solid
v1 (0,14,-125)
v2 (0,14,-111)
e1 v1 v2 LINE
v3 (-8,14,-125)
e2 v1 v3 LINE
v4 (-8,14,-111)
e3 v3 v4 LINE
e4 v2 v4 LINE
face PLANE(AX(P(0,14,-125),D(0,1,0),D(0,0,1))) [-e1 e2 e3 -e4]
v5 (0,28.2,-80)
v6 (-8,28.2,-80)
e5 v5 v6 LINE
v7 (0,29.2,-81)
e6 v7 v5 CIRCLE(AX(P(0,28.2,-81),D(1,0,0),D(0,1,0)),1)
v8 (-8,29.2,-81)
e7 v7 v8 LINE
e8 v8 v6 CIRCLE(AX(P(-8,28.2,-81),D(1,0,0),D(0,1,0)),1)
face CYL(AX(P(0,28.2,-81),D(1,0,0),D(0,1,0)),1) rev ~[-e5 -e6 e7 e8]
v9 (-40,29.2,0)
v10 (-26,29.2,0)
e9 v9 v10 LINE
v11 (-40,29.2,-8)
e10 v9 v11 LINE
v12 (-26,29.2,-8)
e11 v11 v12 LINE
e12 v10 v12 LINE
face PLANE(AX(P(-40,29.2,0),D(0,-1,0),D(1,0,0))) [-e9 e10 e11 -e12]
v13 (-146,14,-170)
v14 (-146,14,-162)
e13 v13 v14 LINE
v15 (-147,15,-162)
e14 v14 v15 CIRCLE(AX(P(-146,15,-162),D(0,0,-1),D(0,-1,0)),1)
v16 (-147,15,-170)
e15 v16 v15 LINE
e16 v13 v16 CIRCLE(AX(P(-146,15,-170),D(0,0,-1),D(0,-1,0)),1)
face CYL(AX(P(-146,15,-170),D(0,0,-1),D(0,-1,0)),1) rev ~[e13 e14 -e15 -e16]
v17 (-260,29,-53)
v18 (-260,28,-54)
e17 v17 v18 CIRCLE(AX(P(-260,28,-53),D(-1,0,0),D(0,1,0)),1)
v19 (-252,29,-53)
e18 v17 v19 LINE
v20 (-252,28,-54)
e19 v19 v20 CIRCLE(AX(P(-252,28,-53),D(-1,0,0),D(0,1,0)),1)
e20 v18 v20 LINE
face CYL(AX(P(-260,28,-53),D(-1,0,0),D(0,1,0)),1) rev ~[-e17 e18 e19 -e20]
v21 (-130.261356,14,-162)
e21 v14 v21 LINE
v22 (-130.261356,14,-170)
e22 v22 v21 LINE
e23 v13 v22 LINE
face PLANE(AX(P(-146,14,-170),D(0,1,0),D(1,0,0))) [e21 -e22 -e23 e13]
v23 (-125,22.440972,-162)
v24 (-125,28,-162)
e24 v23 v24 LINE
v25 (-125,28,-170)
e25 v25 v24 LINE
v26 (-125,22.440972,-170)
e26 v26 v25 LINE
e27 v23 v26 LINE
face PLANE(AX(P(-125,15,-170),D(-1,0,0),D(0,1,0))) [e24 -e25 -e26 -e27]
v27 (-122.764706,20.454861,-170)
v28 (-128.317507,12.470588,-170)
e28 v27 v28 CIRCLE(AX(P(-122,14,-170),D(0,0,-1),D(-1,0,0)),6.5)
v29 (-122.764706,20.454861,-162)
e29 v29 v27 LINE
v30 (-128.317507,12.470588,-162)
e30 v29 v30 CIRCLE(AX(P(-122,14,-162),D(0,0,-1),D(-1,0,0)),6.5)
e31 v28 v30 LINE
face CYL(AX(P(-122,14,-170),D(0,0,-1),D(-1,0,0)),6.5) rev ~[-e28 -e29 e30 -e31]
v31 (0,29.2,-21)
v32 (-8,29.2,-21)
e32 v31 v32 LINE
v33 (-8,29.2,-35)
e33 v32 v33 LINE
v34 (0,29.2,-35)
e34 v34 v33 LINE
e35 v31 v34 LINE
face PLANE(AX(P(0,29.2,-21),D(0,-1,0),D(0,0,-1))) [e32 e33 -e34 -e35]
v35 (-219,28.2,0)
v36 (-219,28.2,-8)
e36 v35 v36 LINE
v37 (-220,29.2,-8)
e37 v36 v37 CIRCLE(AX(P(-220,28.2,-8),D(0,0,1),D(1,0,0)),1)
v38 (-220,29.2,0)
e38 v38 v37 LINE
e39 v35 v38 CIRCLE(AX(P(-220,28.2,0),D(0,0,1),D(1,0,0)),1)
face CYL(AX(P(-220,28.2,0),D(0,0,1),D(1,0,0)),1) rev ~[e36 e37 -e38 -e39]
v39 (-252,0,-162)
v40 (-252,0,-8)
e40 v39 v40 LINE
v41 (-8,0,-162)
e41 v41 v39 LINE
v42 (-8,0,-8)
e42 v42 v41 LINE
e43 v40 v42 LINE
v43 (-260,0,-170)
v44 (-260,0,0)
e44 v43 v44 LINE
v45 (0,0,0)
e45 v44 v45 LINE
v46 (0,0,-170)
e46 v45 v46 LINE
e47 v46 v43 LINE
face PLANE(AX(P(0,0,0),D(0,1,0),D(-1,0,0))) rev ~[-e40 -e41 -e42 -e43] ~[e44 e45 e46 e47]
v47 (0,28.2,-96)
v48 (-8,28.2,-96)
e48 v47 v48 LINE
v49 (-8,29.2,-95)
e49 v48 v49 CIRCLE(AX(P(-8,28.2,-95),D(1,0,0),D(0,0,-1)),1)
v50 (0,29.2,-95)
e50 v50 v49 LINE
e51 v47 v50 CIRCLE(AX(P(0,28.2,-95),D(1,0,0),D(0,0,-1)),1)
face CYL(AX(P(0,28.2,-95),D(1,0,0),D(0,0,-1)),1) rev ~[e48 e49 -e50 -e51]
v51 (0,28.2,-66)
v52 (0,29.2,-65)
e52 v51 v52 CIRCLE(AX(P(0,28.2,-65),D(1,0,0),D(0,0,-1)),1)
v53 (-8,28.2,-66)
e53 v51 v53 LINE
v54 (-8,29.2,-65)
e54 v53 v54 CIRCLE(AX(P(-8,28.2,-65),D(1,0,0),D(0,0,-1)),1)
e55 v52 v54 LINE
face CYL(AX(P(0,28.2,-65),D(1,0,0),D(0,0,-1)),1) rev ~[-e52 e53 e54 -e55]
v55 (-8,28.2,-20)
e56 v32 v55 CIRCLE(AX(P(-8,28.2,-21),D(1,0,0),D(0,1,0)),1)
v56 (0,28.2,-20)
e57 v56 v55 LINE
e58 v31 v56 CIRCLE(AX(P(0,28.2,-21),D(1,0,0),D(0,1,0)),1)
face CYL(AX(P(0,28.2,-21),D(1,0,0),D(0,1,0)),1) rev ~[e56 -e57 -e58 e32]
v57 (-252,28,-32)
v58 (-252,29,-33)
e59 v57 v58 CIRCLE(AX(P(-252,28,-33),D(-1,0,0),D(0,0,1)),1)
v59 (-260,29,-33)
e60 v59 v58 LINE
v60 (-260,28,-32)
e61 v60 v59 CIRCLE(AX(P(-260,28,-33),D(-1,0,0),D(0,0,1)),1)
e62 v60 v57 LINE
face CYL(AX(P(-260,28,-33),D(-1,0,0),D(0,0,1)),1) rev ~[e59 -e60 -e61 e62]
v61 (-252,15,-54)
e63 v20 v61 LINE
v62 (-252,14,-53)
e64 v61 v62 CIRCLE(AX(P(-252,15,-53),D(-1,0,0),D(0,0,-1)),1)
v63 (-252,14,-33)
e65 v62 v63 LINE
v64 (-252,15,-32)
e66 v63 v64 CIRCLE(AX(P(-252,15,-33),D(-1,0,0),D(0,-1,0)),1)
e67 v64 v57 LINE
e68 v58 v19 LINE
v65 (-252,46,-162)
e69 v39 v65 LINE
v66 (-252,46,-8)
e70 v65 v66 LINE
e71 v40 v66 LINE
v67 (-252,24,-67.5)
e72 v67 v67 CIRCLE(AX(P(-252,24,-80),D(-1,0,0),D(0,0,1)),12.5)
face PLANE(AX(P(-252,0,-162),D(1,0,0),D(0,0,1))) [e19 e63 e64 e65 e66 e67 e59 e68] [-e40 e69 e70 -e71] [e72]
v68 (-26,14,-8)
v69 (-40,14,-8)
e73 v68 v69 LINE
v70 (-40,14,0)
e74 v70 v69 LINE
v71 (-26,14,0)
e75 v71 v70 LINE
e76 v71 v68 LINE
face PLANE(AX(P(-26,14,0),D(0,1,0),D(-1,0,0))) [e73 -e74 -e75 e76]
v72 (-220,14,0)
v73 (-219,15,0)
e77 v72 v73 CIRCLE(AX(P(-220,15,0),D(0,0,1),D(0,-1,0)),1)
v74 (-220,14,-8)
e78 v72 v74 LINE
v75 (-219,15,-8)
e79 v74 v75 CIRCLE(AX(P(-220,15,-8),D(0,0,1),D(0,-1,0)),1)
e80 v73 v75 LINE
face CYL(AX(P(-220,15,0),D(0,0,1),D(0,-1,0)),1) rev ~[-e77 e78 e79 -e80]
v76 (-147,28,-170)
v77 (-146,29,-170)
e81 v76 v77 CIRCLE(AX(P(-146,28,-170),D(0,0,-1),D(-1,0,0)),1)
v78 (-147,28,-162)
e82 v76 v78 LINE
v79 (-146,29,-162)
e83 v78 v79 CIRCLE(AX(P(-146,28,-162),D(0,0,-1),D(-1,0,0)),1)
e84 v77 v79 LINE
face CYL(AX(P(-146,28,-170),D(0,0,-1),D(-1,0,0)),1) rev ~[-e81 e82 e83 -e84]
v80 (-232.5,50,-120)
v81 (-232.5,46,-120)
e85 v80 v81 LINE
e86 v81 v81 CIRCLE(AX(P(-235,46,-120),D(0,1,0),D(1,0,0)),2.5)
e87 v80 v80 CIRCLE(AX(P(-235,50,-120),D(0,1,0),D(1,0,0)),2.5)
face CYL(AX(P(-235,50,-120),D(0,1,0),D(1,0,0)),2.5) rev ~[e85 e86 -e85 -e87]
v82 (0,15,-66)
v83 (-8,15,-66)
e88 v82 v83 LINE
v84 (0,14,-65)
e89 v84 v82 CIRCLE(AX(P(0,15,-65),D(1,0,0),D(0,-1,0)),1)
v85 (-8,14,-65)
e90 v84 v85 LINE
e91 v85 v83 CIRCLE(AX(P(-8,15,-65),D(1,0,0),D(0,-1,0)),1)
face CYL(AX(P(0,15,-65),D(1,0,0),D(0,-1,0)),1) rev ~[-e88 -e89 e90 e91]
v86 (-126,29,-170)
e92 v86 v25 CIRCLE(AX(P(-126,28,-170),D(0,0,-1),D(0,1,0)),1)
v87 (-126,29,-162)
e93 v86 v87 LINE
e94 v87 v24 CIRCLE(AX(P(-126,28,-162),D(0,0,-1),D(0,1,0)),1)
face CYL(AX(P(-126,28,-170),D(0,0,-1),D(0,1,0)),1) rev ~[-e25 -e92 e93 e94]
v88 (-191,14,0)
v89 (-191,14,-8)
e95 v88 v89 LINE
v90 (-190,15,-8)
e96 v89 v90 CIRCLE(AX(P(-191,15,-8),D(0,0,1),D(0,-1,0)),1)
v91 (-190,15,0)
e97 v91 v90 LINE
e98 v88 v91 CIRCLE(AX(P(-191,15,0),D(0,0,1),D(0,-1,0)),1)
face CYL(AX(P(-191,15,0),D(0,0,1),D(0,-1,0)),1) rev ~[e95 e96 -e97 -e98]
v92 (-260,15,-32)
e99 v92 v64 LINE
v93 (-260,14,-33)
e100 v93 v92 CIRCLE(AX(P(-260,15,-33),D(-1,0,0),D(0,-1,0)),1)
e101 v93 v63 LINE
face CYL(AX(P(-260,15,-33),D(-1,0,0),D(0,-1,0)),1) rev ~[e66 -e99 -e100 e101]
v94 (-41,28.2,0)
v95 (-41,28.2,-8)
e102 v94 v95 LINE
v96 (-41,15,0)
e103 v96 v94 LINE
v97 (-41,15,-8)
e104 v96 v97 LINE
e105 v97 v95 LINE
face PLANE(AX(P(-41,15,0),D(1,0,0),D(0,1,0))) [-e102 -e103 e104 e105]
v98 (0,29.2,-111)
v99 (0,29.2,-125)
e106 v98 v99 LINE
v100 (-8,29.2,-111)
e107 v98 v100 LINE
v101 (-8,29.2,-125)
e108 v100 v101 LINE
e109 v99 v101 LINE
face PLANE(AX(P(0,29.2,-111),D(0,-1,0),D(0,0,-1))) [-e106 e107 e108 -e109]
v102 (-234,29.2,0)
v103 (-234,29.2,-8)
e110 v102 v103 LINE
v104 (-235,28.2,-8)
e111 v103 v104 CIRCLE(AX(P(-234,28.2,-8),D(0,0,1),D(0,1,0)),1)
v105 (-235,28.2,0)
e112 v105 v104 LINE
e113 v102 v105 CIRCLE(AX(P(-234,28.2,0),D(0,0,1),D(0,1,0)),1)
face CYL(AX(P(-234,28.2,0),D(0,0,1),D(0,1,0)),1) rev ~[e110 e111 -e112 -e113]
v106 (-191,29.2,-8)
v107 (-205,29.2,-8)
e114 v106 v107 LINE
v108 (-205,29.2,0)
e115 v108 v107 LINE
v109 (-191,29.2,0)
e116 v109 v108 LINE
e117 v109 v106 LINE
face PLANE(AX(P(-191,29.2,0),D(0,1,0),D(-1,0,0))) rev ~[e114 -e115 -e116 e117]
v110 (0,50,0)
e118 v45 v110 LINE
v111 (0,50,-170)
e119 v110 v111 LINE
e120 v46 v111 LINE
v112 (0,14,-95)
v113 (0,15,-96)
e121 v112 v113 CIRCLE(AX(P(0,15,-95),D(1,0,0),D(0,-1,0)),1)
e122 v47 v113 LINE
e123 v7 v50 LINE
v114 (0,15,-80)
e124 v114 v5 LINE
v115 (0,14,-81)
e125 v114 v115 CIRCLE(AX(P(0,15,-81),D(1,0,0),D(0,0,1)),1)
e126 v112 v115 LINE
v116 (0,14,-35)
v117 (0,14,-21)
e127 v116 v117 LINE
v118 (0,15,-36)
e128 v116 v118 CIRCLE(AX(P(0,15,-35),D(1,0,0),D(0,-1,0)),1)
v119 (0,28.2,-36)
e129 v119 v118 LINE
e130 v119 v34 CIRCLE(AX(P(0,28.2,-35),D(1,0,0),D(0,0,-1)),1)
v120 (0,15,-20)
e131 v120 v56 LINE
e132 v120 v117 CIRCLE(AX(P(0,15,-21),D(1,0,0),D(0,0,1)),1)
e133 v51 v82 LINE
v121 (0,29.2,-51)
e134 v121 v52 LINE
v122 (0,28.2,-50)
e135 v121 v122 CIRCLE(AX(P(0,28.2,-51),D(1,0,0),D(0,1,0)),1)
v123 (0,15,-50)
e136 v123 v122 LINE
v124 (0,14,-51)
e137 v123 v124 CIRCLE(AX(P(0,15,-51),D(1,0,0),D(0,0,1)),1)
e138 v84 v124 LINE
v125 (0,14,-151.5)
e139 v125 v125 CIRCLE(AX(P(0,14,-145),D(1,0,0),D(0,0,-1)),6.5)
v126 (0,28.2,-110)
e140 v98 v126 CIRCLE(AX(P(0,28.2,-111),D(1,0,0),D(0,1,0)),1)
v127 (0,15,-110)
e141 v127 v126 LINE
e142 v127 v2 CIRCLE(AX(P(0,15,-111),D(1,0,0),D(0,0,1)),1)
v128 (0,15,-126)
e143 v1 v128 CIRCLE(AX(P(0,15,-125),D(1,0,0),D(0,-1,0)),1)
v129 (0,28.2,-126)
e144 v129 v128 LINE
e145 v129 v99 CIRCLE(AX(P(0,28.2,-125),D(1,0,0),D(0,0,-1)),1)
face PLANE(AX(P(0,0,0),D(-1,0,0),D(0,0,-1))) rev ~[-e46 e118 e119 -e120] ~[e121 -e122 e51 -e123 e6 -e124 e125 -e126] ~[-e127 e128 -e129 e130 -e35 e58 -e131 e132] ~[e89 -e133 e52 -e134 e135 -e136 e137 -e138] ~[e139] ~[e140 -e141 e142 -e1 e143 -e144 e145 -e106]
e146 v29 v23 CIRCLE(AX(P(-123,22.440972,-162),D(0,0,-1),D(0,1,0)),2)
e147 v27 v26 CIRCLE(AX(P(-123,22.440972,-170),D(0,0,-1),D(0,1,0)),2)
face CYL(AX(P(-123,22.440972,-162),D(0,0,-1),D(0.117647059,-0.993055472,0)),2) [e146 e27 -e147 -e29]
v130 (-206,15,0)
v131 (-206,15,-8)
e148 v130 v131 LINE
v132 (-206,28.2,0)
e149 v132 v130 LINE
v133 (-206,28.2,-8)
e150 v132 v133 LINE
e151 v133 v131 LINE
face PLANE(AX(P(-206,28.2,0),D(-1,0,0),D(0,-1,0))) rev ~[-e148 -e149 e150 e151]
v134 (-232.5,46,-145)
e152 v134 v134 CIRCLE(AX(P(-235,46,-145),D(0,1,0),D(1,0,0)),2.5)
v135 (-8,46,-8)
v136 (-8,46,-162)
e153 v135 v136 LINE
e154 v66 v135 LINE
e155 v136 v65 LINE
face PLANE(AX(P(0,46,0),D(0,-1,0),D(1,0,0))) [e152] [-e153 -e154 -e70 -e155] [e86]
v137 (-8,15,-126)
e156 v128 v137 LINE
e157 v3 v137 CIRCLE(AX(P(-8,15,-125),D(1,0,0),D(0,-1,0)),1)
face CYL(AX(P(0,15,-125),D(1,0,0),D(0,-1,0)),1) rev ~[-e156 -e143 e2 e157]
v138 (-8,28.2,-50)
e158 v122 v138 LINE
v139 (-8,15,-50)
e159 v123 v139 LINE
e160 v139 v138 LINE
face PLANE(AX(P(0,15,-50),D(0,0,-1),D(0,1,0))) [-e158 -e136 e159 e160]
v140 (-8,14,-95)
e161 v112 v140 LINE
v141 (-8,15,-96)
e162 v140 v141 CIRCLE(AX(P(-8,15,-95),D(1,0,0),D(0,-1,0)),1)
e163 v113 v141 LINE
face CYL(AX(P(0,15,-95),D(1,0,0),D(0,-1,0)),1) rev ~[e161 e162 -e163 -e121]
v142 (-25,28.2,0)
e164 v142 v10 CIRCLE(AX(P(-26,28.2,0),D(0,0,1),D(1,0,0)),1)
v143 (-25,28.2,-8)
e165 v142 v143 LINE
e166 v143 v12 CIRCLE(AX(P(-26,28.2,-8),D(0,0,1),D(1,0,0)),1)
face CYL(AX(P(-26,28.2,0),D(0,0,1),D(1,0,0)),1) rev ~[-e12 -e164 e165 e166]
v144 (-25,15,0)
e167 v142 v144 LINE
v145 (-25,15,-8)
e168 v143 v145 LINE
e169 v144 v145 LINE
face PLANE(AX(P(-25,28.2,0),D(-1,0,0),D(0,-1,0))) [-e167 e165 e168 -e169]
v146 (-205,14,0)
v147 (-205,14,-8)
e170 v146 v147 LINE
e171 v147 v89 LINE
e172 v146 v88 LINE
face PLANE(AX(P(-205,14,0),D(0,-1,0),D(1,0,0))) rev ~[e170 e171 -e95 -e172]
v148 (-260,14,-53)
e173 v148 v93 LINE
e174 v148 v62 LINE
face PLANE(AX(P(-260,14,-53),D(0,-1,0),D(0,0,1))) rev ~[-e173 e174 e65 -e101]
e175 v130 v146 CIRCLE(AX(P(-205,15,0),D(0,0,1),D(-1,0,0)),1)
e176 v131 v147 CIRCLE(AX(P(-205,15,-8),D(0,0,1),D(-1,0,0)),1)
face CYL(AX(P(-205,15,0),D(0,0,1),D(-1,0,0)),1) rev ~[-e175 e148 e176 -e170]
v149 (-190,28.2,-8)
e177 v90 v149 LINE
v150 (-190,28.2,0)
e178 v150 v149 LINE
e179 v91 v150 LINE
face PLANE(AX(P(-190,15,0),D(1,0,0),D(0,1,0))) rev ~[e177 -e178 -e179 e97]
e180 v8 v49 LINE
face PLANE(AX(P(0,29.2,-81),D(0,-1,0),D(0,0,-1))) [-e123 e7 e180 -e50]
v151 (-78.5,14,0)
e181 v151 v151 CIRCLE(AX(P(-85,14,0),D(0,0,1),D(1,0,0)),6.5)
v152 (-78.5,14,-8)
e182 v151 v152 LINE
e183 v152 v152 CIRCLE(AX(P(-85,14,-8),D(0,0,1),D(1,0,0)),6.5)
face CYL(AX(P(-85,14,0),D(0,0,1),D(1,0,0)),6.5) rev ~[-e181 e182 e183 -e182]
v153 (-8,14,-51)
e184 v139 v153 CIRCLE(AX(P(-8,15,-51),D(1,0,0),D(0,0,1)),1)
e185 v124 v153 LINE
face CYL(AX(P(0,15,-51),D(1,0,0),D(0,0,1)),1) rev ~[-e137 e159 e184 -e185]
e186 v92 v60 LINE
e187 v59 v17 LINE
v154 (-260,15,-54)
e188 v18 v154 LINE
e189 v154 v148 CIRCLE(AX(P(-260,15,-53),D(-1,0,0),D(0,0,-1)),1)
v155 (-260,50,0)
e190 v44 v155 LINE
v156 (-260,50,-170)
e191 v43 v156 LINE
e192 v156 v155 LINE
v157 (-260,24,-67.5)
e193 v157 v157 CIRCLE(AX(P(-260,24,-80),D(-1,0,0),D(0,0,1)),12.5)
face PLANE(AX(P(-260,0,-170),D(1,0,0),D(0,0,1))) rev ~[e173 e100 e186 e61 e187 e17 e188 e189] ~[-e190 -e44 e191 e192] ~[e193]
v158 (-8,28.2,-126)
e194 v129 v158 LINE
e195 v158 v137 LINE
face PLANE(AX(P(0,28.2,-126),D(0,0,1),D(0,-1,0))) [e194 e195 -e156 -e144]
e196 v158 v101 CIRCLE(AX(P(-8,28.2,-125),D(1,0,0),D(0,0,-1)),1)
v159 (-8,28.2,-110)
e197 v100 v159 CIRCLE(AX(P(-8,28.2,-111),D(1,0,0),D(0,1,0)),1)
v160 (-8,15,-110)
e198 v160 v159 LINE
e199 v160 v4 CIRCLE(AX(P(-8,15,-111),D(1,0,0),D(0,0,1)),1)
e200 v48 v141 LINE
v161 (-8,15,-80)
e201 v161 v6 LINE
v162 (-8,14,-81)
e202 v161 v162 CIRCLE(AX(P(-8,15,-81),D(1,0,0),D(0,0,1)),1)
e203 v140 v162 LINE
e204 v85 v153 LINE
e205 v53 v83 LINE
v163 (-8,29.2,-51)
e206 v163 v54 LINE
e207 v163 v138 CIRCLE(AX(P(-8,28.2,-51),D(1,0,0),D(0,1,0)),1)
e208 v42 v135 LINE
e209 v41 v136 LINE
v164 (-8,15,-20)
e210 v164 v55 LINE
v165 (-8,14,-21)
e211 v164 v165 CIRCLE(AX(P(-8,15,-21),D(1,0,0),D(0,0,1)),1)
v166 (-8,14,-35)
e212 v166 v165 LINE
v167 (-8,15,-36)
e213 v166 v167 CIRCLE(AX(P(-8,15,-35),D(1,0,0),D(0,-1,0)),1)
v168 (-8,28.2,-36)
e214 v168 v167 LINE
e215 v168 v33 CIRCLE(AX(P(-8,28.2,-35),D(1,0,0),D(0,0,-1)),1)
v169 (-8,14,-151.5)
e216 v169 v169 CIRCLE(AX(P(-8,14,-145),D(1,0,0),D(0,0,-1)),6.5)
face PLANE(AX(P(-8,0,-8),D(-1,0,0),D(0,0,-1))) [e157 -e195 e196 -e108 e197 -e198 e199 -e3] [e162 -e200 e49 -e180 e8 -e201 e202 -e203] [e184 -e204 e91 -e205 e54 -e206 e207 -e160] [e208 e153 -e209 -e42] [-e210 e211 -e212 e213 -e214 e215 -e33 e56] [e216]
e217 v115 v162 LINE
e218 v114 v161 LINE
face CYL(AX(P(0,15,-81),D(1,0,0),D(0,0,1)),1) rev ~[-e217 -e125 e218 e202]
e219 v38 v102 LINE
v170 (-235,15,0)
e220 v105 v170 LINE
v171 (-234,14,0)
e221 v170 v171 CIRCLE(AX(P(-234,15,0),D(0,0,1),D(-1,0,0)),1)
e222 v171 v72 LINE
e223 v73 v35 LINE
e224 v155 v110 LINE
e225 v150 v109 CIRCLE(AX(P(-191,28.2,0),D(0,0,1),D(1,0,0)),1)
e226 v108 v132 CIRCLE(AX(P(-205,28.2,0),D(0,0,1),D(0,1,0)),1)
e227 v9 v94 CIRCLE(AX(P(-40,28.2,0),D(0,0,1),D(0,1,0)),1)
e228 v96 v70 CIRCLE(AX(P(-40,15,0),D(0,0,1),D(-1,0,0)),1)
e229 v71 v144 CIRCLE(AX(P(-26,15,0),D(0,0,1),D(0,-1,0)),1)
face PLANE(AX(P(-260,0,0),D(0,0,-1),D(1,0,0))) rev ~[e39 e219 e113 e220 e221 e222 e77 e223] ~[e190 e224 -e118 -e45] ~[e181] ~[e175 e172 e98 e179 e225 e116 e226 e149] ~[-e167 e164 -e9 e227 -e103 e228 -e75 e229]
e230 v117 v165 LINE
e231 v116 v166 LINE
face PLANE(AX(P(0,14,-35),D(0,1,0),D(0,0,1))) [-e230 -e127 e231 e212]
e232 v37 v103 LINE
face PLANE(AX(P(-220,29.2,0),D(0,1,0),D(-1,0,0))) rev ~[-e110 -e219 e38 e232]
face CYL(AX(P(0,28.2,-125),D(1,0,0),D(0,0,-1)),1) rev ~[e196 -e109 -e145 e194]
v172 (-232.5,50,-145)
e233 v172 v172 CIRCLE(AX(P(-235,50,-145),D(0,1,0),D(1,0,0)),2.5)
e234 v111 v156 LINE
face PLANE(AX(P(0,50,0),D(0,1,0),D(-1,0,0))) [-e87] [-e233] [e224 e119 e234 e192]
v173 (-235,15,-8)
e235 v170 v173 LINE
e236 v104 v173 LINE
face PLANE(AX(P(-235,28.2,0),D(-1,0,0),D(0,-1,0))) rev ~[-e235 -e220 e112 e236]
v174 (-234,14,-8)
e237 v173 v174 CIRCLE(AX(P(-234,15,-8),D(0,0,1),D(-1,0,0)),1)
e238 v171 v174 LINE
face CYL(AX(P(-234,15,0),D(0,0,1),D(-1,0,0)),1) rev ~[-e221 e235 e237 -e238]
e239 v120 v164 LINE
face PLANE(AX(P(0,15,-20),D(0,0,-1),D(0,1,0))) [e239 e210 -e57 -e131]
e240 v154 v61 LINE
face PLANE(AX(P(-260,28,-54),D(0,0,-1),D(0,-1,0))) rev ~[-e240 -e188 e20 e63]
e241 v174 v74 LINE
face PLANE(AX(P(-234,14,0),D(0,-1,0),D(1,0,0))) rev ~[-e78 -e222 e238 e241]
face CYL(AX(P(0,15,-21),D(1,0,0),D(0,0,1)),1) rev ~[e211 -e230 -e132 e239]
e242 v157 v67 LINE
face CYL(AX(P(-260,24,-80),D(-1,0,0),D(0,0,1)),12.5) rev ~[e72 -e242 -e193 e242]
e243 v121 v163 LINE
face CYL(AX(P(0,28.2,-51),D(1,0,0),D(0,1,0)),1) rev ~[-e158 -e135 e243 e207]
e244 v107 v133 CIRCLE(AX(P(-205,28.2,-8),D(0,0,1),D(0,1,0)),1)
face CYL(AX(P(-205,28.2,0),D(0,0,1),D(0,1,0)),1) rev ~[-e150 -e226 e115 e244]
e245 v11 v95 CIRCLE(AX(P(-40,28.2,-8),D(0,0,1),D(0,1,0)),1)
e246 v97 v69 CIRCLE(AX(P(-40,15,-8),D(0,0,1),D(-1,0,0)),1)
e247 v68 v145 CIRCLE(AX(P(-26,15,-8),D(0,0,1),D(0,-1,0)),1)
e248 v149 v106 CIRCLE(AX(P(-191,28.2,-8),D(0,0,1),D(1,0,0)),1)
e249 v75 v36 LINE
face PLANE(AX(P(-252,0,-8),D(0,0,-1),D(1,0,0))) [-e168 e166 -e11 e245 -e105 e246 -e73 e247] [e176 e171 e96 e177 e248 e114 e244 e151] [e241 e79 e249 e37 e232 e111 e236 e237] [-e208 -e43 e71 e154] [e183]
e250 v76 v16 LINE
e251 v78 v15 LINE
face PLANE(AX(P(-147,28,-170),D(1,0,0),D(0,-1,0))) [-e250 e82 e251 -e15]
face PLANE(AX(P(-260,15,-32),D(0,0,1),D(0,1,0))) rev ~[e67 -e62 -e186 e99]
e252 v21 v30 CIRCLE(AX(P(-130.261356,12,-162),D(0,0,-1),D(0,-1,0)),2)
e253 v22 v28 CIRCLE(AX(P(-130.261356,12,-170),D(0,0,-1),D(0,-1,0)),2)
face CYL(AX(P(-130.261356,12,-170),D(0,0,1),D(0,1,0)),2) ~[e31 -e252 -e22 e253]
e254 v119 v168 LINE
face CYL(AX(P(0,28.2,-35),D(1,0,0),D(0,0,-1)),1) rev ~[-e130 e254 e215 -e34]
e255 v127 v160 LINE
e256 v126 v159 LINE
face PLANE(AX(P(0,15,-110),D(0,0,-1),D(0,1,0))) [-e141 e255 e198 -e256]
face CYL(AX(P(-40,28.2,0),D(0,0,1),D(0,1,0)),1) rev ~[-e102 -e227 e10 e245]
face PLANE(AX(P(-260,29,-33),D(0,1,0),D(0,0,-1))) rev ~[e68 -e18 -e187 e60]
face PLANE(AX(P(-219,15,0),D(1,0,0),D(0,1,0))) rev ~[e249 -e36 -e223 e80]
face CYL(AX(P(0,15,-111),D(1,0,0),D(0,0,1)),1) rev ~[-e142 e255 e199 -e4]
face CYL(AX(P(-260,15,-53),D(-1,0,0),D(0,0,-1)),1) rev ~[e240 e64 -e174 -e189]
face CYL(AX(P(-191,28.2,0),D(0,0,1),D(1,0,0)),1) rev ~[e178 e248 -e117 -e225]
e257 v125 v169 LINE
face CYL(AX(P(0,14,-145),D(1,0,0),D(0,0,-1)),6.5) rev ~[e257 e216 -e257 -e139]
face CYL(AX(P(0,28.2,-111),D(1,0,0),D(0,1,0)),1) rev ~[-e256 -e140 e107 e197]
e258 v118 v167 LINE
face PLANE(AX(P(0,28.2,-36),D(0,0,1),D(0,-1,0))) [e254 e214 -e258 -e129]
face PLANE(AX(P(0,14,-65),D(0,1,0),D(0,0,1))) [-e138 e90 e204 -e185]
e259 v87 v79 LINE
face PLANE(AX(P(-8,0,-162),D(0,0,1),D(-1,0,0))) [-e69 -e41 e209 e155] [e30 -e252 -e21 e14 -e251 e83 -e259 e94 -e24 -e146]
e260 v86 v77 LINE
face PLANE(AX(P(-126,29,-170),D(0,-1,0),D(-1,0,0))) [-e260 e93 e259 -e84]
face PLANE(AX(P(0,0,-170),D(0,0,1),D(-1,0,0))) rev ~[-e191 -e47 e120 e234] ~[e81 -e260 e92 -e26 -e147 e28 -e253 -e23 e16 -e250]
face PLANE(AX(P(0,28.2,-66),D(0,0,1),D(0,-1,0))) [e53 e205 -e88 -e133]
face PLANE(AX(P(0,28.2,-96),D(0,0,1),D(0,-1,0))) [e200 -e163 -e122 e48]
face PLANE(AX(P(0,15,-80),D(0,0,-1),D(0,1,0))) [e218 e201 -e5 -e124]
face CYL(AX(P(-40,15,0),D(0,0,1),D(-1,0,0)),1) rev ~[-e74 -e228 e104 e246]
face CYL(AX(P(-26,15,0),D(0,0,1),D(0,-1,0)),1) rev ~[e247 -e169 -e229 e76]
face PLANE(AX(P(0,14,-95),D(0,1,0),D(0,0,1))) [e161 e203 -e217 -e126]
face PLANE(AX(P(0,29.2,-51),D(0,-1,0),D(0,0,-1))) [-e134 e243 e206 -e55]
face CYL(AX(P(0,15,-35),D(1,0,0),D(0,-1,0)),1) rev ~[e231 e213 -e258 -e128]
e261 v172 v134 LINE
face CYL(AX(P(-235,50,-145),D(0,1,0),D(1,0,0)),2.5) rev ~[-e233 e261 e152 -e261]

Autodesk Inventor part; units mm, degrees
ref_plane "YZ Plane" through (0, 0, 0) normal (1, 0, 0) x (0, 1, 0)
ref_plane "XZ Plane" through (0, 0, 0) normal (0, 1, 0) x (-1, 0, 0)
ref_plane "XY Plane" through (0, 0, 0) normal (0, 0, 1) x (1, 0, 0)
sketch "Sketch1" plane through (0, 0, 0) normal (0, 1, 0) x (-1, 0, 0)
  line L0 (0, -170) -> (260, -170)
  line L1 (260, -170) -> (260, 0)
  line L2 (260, 0) -> (0, 0)
  line L3 (0, 0) -> (0, -170)
  dimension "d2" = 260
  dimension "d3" = 170
extrude "Box" add sketch "Sketch1" along normal blind 50
sketch "Sketch2" plane through (0, 0, 0) normal (1, 0, 0) x (0, 0, -1)
  line L0 (35, 14) -> (21, 14)
  line L1 (20, 15) -> (20, 28.2)
  line L2 (21, 29.2) -> (35, 29.2)
  line L3 (36, 28.2) -> (36, 15)
  arc A0 (21, 29.2) -> (20, 28.2) centre (21, 28.2) ccw
  arc A1 (36, 28.2) -> (35, 29.2) centre (35, 28.2) ccw
  arc A2 (35, 14) -> (36, 15) centre (35, 15) ccw
  arc A3 (20, 15) -> (21, 14) centre (21, 15) ccw
  line L4 (65, 14) -> (51, 14)
  line L5 (50, 15) -> (50, 28.2)
  line L6 (51, 29.2) -> (65, 29.2)
  line L7 (66, 28.2) -> (66, 15)
  arc A4 (51, 29.2) -> (50, 28.2) centre (51, 28.2) ccw
  arc A5 (66, 28.2) -> (65, 29.2) centre (65, 28.2) ccw
  arc A6 (65, 14) -> (66, 15) centre (65, 15) ccw
  arc A7 (50, 15) -> (51, 14) centre (51, 15) ccw
  line L8 (95, 14) -> (81, 14)
  line L9 (80, 15) -> (80, 28.2)
  line L10 (81, 29.2) -> (95, 29.2)
  line L11 (96, 28.2) -> (96, 15)
  arc A8 (81, 29.2) -> (80, 28.2) centre (81, 28.2) ccw
  arc A9 (96, 28.2) -> (95, 29.2) centre (95, 28.2) ccw
  arc A10 (95, 14) -> (96, 15) centre (95, 15) ccw
  arc A11 (80, 15) -> (81, 14) centre (81, 15) ccw
  line L12 (125, 14) -> (111, 14)
  line L13 (110, 15) -> (110, 28.2)
  line L14 (111, 29.2) -> (125, 29.2)
  line L15 (126, 28.2) -> (126, 15)
  arc A12 (111, 29.2) -> (110, 28.2) centre (111, 28.2) ccw
  arc A13 (126, 28.2) -> (125, 29.2) centre (125, 28.2) ccw
  arc A14 (125, 14) -> (126, 15) centre (125, 15) ccw
  arc A15 (110, 15) -> (111, 14) centre (111, 15) ccw
  line L16 (0, 0) -> (0, 50) construction
  line L17 (0, 0) -> (170, 0) construction
  point P0 (36, 14)
  point P1 (20, 29.2)
  point P2 (20, 14)
  point P3 (36, 29.2)
  point P4 (66, 14)
  point P5 (50, 29.2)
  point P6 (50, 14)
  point P7 (66, 29.2)
  point P8 (96, 14)
  point P9 (80, 29.2)
  point P10 (80, 14)
  point P11 (96, 29.2)
  point P12 (126, 14)
  point P13 (110, 29.2)
  point P14 (110, 14)
  point P15 (126, 29.2)
  point P16 (20, 21.6)
  point P17 (28, 29.2)
  dimension "d6" = 16
  dimension "d72" = 1
  dimension "d73" = 16
  dimension "d75" = 1
  dimension "d76" = 16
  dimension "d78" = 1
  dimension "d79" = 16
  dimension "d81" = 1
  dimension "d82" = 14
  dimension "d83" = 20
  dimension "d84" = 30
  dimension "d87" = 30
  dimension "d88" = 30
  dimension "d110" = 15.2
extrude "Ethernet" cut sketch "Sketch2" against normal blind 20
sketch "Sketch6" plane through (-260, 0, 0) normal (0, 0, 1) x (1, 0, 0)
  line L0 (40, 29.2) -> (26, 29.2)
  line L1 (25, 28.2) -> (25, 15)
  line L2 (26, 14) -> (40, 14)
  line L3 (41, 15) -> (41, 28.2)
  line L4 (0, 0) -> (0, 50) projected
  line L5 (0, 0) -> (260, 0) projected
  arc A0 (26, 29.2) -> (25, 28.2) centre (26, 28.2) ccw
  arc A1 (41, 28.2) -> (40, 29.2) centre (40, 28.2) ccw
  arc A2 (40, 14) -> (41, 15) centre (40, 15) ccw
  arc A3 (25, 15) -> (26, 14) centre (26, 15) ccw
  line L6 (69, 29.2) -> (55, 29.2)
  line L7 (54, 28.2) -> (54, 15)
  line L8 (55, 14) -> (69, 14)
  line L9 (70, 15) -> (70, 28.2)
  arc A4 (55, 29.2) -> (54, 28.2) centre (55, 28.2) ccw
  arc A5 (70, 28.2) -> (69, 29.2) centre (69, 28.2) ccw
  arc A6 (69, 14) -> (70, 15) centre (69, 15) ccw
  arc A7 (54, 15) -> (55, 14) centre (55, 15) ccw
  point P0 (41, 29.2)
  point P1 (25, 14)
  point P2 (25, 29.2)
  point P3 (41, 14)
  point P4 (70, 29.2)
  point P5 (54, 14)
  point P6 (54, 29.2)
  point P7 (70, 14)
  dimension "d22" = 16
  dimension "d23" = 15.2
  dimension "d92" = 25
  dimension "d93" = 14
  dimension "d94" = 1
  dimension "d95" = 16
  dimension "d97" = 1
  dimension "d99" = 13
extrude "Rotary-Ethernet" cut sketch "Sketch6" against normal blind 20
sketch "Sketch9" plane through (0, 50, 0) normal (0, 1, 0) x (1, 0, 0)
  circle A0 centre (-235, 120) radius 2.5
  line L0 (-260, 170) -> (-260, 0) construction
  line L1 (0, 170) -> (-260, 170) construction
  circle A1 centre (-235, 145) radius 2.5
  point P0 (0, 0)
  dimension "d33" = 5
  dimension "d68" = 25
  dimension "d69" = 50
  dimension "d70" = 25
  dimension "d71" = 25
extrude "Spout1" cut sketch "Sketch9" against normal blind 20
sketch "Sketch11" plane through (0, 0, -170) normal (0, 0, -1) x (-1, 0, 0)
  line L0 (146, 14) -> (126, 14)
  line L1 (125, 15) -> (125, 28)
  line L2 (126, 29) -> (146, 29)
  line L3 (147, 28) -> (147, 15)
  line L4 (0, 0) -> (260, 0) projected
  line L5 (0, 0) -> (0, 50) projected
  arc A0 (126, 29) -> (125, 28) centre (126, 28) ccw
  arc A1 (147, 28) -> (146, 29) centre (146, 28) ccw
  arc A2 (146, 14) -> (147, 15) centre (146, 15) ccw
  arc A3 (125, 15) -> (126, 14) centre (126, 15) ccw
  point P0 (0, 0)
  point P1 (147, 14)
  point P2 (125, 29)
  point P3 (125, 14)
  point P4 (147, 29)
  dimension "d39" = 22
  dimension "d40" = 15
  dimension "d105" = 14
  dimension "d106" = 125
  dimension "d107" = 1
extrude "Teensy usb" cut sketch "Sketch11" against normal blind 10
sketch "Sketch13" plane through (-260, 0, 0) normal (0, 0, 1) x (1, 0, 0)
  line L0 (220, 29.2) -> (234, 29.2)
  line L1 (235, 28.2) -> (235, 15)
  line L2 (234, 14) -> (220, 14)
  line L3 (219, 15) -> (219, 28.2)
  line L4 (260, 0) -> (260, 50) projected
  line L5 (0, 0) -> (260, 0) projected
  arc A0 (220, 29.2) -> (219, 28.2) centre (220, 28.2) ccw
  arc A1 (235, 28.2) -> (234, 29.2) centre (234, 28.2) ccw
  arc A2 (234, 14) -> (235, 15) centre (234, 15) ccw
  arc A3 (219, 15) -> (220, 14) centre (220, 15) ccw
  point P0 (219, 29.2)
  point P1 (235, 14)
  point P2 (235, 29.2)
  point P3 (219, 14)
  dimension "d43" = 16
  dimension "d44" = 15.2
  dimension "d89" = 25
  dimension "d90" = 14
  dimension "d91" = 1
extrude "Teensy shield" cut sketch "Sketch13" against normal blind 10
sketch "power 5 v" plane through (0, 0, -170) normal (0, 0, -1) x (-1, 0, 0)
  circle A0 centre (122, 14) radius 6.5
  line L0 (0, 0) -> (260, 0) projected
  line L1 (146, 14) -> (126, 14) projected
  point P0 (136, 14)
  dimension "d47" = 13
  dimension "d108" = 14
  dimension "d109" = 14
extrude "Power5" cut sketch "power 5 v" against normal blind 20
sketch "power9" plane through (0, 0, 0) normal (1, 0, 0) x (0, 0, -1)
  circle A0 centre (145, 14) radius 6.5
  line L0 (0, 0) -> (170, 0) projected
  line L1 (170, 0) -> (170, 50) projected
  dimension "d50" = 13
  dimension "d85" = 14
  dimension "d86" = 25
extrude "Power 9" cut sketch "power9" against normal blind 20
sketch "Power121" plane through (-260, 0, 0) normal (0, 0, 1) x (1, 0, 0)
  circle A0 centre (175, 14) radius 6.5
  line L0 (0, 0) -> (260, 0) projected
  arc A1 (234, 14) -> (235, 15) centre (234, 15) ccw projected
  line L1 (234, 14) -> (220, 14) projected
  arc A2 (219, 15) -> (220, 14) centre (220, 15) ccw projected
  line L2 (219, 15) -> (219, 28.2) projected
  arc A3 (220, 29.2) -> (219, 28.2) centre (220, 28.2) ccw projected
  line L3 (220, 29.2) -> (234, 29.2) projected
  arc A4 (235, 28.2) -> (234, 29.2) centre (234, 28.2) ccw projected
  line L4 (235, 28.2) -> (235, 15) projected
  line L5 (25, 15) -> (25, 28.2) projected
  arc A5 (26, 29.2) -> (25, 28.2) centre (26, 28.2) ccw projected
  line L6 (26, 29.2) -> (40, 29.2) projected
  arc A6 (41, 28.2) -> (40, 29.2) centre (40, 28.2) ccw projected
  line L7 (41, 28.2) -> (41, 15) projected
  arc A7 (40, 14) -> (41, 15) centre (40, 15) ccw projected
  line L8 (40, 14) -> (26, 14) projected
  arc A8 (25, 15) -> (26, 14) centre (26, 15) ccw projected
  arc A9 (55, 29.2) -> (54, 28.2) centre (55, 28.2) ccw projected
  line L9 (55, 29.2) -> (69, 29.2) projected
  arc A10 (70, 28.2) -> (69, 29.2) centre (69, 28.2) ccw projected
  line L10 (70, 28.2) -> (70, 15) projected
  arc A11 (69, 14) -> (70, 15) centre (69, 15) ccw projected
  line L11 (69, 14) -> (55, 14) projected
  arc A12 (54, 15) -> (55, 14) centre (55, 15) ccw projected
  line L12 (54, 15) -> (54, 28.2) projected
  line L13 (0, 0) -> (260, 0) projected
  line L14 (260, 0) -> (260, 50) projected
  line L15 (0, 50) -> (260, 50) projected
  line L16 (0, 0) -> (0, 50) projected
  dimension "d53" = 13
  dimension "d100" = 14
  dimension "d101" = 85
extrude "Power12" cut sketch "Power121" against normal blind 20 contours A0
sketch "Rotary USB1" plane through (-260, 0, -170) normal (-1, 0, 0) x (0, 0, 1)
  line L0 (137, 29) -> (117, 29)
  line L1 (116, 28) -> (116, 15)
  line L2 (117, 14) -> (137, 14)
  line L3 (138, 15) -> (138, 28)
  line L4 (0, 0) -> (170, 0) projected
  line L5 (170, 0) -> (170, 50) projected
  arc A0 (138, 28) -> (137, 29) centre (137, 28) ccw
  arc A1 (137, 14) -> (138, 15) centre (137, 15) ccw
  arc A2 (116, 15) -> (117, 14) centre (117, 15) ccw
  arc A3 (117, 29) -> (116, 28) centre (117, 28) ccw
  point P0 (170, 0)
  point P1 (138, 29)
  point P2 (116, 14)
  point P3 (116, 29)
  point P4 (138, 14)
  dimension "d58" = 22
  dimension "d59" = 15
  dimension "d102" = 14
  dimension "d103" = 32
  dimension "d104" = 1
extrude "Rotary USB" cut sketch "Rotary USB1" against normal blind 20
sketch "Sketch19" plane through (0, 0, 0) normal (0, -1, 0) x (1, 0, 0)
  line L0 (-260, -170) -> (-260, 0) construction
  line L1 (0, -170) -> (-260, -170) construction
  line L2 (0, 0) -> (0, -170) construction
  line L3 (-260, 0) -> (0, 0) construction
  line L4 (-8, -162) -> (-252, -162)
  line L5 (-252, -162) -> (-252, -8)
  line L6 (-252, -8) -> (-8, -8)
  line L7 (-8, -8) -> (-8, -162)
  dimension "d62" = 8
  dimension "d63" = 8
  dimension "d64" = 8
  dimension "d65" = 8
extrude "Extrusion17" cut sketch "Sketch19" against normal blind 46
fillet "Fillet1" radius 2 2 edges at (-128.5, 14, -166) (-125, 19.7663, -166)
sketch "Sketch20" plane through (-260, 0, -170) normal (-1, 0, 0) x (0, 0, 1)
  circle A0 centre (90, 24) radius 12.5
  line L0 (0, 0) -> (170, 0) projected
  line L1 (0, 0) -> (0, 50) projected
  dimension "d112" = 25
  dimension "d113" = 24
  dimension "d114" = 90
extrude "Extrusion18" cut sketch "Sketch20" against normal blind 20
properties part number "TouchShakerBox"
